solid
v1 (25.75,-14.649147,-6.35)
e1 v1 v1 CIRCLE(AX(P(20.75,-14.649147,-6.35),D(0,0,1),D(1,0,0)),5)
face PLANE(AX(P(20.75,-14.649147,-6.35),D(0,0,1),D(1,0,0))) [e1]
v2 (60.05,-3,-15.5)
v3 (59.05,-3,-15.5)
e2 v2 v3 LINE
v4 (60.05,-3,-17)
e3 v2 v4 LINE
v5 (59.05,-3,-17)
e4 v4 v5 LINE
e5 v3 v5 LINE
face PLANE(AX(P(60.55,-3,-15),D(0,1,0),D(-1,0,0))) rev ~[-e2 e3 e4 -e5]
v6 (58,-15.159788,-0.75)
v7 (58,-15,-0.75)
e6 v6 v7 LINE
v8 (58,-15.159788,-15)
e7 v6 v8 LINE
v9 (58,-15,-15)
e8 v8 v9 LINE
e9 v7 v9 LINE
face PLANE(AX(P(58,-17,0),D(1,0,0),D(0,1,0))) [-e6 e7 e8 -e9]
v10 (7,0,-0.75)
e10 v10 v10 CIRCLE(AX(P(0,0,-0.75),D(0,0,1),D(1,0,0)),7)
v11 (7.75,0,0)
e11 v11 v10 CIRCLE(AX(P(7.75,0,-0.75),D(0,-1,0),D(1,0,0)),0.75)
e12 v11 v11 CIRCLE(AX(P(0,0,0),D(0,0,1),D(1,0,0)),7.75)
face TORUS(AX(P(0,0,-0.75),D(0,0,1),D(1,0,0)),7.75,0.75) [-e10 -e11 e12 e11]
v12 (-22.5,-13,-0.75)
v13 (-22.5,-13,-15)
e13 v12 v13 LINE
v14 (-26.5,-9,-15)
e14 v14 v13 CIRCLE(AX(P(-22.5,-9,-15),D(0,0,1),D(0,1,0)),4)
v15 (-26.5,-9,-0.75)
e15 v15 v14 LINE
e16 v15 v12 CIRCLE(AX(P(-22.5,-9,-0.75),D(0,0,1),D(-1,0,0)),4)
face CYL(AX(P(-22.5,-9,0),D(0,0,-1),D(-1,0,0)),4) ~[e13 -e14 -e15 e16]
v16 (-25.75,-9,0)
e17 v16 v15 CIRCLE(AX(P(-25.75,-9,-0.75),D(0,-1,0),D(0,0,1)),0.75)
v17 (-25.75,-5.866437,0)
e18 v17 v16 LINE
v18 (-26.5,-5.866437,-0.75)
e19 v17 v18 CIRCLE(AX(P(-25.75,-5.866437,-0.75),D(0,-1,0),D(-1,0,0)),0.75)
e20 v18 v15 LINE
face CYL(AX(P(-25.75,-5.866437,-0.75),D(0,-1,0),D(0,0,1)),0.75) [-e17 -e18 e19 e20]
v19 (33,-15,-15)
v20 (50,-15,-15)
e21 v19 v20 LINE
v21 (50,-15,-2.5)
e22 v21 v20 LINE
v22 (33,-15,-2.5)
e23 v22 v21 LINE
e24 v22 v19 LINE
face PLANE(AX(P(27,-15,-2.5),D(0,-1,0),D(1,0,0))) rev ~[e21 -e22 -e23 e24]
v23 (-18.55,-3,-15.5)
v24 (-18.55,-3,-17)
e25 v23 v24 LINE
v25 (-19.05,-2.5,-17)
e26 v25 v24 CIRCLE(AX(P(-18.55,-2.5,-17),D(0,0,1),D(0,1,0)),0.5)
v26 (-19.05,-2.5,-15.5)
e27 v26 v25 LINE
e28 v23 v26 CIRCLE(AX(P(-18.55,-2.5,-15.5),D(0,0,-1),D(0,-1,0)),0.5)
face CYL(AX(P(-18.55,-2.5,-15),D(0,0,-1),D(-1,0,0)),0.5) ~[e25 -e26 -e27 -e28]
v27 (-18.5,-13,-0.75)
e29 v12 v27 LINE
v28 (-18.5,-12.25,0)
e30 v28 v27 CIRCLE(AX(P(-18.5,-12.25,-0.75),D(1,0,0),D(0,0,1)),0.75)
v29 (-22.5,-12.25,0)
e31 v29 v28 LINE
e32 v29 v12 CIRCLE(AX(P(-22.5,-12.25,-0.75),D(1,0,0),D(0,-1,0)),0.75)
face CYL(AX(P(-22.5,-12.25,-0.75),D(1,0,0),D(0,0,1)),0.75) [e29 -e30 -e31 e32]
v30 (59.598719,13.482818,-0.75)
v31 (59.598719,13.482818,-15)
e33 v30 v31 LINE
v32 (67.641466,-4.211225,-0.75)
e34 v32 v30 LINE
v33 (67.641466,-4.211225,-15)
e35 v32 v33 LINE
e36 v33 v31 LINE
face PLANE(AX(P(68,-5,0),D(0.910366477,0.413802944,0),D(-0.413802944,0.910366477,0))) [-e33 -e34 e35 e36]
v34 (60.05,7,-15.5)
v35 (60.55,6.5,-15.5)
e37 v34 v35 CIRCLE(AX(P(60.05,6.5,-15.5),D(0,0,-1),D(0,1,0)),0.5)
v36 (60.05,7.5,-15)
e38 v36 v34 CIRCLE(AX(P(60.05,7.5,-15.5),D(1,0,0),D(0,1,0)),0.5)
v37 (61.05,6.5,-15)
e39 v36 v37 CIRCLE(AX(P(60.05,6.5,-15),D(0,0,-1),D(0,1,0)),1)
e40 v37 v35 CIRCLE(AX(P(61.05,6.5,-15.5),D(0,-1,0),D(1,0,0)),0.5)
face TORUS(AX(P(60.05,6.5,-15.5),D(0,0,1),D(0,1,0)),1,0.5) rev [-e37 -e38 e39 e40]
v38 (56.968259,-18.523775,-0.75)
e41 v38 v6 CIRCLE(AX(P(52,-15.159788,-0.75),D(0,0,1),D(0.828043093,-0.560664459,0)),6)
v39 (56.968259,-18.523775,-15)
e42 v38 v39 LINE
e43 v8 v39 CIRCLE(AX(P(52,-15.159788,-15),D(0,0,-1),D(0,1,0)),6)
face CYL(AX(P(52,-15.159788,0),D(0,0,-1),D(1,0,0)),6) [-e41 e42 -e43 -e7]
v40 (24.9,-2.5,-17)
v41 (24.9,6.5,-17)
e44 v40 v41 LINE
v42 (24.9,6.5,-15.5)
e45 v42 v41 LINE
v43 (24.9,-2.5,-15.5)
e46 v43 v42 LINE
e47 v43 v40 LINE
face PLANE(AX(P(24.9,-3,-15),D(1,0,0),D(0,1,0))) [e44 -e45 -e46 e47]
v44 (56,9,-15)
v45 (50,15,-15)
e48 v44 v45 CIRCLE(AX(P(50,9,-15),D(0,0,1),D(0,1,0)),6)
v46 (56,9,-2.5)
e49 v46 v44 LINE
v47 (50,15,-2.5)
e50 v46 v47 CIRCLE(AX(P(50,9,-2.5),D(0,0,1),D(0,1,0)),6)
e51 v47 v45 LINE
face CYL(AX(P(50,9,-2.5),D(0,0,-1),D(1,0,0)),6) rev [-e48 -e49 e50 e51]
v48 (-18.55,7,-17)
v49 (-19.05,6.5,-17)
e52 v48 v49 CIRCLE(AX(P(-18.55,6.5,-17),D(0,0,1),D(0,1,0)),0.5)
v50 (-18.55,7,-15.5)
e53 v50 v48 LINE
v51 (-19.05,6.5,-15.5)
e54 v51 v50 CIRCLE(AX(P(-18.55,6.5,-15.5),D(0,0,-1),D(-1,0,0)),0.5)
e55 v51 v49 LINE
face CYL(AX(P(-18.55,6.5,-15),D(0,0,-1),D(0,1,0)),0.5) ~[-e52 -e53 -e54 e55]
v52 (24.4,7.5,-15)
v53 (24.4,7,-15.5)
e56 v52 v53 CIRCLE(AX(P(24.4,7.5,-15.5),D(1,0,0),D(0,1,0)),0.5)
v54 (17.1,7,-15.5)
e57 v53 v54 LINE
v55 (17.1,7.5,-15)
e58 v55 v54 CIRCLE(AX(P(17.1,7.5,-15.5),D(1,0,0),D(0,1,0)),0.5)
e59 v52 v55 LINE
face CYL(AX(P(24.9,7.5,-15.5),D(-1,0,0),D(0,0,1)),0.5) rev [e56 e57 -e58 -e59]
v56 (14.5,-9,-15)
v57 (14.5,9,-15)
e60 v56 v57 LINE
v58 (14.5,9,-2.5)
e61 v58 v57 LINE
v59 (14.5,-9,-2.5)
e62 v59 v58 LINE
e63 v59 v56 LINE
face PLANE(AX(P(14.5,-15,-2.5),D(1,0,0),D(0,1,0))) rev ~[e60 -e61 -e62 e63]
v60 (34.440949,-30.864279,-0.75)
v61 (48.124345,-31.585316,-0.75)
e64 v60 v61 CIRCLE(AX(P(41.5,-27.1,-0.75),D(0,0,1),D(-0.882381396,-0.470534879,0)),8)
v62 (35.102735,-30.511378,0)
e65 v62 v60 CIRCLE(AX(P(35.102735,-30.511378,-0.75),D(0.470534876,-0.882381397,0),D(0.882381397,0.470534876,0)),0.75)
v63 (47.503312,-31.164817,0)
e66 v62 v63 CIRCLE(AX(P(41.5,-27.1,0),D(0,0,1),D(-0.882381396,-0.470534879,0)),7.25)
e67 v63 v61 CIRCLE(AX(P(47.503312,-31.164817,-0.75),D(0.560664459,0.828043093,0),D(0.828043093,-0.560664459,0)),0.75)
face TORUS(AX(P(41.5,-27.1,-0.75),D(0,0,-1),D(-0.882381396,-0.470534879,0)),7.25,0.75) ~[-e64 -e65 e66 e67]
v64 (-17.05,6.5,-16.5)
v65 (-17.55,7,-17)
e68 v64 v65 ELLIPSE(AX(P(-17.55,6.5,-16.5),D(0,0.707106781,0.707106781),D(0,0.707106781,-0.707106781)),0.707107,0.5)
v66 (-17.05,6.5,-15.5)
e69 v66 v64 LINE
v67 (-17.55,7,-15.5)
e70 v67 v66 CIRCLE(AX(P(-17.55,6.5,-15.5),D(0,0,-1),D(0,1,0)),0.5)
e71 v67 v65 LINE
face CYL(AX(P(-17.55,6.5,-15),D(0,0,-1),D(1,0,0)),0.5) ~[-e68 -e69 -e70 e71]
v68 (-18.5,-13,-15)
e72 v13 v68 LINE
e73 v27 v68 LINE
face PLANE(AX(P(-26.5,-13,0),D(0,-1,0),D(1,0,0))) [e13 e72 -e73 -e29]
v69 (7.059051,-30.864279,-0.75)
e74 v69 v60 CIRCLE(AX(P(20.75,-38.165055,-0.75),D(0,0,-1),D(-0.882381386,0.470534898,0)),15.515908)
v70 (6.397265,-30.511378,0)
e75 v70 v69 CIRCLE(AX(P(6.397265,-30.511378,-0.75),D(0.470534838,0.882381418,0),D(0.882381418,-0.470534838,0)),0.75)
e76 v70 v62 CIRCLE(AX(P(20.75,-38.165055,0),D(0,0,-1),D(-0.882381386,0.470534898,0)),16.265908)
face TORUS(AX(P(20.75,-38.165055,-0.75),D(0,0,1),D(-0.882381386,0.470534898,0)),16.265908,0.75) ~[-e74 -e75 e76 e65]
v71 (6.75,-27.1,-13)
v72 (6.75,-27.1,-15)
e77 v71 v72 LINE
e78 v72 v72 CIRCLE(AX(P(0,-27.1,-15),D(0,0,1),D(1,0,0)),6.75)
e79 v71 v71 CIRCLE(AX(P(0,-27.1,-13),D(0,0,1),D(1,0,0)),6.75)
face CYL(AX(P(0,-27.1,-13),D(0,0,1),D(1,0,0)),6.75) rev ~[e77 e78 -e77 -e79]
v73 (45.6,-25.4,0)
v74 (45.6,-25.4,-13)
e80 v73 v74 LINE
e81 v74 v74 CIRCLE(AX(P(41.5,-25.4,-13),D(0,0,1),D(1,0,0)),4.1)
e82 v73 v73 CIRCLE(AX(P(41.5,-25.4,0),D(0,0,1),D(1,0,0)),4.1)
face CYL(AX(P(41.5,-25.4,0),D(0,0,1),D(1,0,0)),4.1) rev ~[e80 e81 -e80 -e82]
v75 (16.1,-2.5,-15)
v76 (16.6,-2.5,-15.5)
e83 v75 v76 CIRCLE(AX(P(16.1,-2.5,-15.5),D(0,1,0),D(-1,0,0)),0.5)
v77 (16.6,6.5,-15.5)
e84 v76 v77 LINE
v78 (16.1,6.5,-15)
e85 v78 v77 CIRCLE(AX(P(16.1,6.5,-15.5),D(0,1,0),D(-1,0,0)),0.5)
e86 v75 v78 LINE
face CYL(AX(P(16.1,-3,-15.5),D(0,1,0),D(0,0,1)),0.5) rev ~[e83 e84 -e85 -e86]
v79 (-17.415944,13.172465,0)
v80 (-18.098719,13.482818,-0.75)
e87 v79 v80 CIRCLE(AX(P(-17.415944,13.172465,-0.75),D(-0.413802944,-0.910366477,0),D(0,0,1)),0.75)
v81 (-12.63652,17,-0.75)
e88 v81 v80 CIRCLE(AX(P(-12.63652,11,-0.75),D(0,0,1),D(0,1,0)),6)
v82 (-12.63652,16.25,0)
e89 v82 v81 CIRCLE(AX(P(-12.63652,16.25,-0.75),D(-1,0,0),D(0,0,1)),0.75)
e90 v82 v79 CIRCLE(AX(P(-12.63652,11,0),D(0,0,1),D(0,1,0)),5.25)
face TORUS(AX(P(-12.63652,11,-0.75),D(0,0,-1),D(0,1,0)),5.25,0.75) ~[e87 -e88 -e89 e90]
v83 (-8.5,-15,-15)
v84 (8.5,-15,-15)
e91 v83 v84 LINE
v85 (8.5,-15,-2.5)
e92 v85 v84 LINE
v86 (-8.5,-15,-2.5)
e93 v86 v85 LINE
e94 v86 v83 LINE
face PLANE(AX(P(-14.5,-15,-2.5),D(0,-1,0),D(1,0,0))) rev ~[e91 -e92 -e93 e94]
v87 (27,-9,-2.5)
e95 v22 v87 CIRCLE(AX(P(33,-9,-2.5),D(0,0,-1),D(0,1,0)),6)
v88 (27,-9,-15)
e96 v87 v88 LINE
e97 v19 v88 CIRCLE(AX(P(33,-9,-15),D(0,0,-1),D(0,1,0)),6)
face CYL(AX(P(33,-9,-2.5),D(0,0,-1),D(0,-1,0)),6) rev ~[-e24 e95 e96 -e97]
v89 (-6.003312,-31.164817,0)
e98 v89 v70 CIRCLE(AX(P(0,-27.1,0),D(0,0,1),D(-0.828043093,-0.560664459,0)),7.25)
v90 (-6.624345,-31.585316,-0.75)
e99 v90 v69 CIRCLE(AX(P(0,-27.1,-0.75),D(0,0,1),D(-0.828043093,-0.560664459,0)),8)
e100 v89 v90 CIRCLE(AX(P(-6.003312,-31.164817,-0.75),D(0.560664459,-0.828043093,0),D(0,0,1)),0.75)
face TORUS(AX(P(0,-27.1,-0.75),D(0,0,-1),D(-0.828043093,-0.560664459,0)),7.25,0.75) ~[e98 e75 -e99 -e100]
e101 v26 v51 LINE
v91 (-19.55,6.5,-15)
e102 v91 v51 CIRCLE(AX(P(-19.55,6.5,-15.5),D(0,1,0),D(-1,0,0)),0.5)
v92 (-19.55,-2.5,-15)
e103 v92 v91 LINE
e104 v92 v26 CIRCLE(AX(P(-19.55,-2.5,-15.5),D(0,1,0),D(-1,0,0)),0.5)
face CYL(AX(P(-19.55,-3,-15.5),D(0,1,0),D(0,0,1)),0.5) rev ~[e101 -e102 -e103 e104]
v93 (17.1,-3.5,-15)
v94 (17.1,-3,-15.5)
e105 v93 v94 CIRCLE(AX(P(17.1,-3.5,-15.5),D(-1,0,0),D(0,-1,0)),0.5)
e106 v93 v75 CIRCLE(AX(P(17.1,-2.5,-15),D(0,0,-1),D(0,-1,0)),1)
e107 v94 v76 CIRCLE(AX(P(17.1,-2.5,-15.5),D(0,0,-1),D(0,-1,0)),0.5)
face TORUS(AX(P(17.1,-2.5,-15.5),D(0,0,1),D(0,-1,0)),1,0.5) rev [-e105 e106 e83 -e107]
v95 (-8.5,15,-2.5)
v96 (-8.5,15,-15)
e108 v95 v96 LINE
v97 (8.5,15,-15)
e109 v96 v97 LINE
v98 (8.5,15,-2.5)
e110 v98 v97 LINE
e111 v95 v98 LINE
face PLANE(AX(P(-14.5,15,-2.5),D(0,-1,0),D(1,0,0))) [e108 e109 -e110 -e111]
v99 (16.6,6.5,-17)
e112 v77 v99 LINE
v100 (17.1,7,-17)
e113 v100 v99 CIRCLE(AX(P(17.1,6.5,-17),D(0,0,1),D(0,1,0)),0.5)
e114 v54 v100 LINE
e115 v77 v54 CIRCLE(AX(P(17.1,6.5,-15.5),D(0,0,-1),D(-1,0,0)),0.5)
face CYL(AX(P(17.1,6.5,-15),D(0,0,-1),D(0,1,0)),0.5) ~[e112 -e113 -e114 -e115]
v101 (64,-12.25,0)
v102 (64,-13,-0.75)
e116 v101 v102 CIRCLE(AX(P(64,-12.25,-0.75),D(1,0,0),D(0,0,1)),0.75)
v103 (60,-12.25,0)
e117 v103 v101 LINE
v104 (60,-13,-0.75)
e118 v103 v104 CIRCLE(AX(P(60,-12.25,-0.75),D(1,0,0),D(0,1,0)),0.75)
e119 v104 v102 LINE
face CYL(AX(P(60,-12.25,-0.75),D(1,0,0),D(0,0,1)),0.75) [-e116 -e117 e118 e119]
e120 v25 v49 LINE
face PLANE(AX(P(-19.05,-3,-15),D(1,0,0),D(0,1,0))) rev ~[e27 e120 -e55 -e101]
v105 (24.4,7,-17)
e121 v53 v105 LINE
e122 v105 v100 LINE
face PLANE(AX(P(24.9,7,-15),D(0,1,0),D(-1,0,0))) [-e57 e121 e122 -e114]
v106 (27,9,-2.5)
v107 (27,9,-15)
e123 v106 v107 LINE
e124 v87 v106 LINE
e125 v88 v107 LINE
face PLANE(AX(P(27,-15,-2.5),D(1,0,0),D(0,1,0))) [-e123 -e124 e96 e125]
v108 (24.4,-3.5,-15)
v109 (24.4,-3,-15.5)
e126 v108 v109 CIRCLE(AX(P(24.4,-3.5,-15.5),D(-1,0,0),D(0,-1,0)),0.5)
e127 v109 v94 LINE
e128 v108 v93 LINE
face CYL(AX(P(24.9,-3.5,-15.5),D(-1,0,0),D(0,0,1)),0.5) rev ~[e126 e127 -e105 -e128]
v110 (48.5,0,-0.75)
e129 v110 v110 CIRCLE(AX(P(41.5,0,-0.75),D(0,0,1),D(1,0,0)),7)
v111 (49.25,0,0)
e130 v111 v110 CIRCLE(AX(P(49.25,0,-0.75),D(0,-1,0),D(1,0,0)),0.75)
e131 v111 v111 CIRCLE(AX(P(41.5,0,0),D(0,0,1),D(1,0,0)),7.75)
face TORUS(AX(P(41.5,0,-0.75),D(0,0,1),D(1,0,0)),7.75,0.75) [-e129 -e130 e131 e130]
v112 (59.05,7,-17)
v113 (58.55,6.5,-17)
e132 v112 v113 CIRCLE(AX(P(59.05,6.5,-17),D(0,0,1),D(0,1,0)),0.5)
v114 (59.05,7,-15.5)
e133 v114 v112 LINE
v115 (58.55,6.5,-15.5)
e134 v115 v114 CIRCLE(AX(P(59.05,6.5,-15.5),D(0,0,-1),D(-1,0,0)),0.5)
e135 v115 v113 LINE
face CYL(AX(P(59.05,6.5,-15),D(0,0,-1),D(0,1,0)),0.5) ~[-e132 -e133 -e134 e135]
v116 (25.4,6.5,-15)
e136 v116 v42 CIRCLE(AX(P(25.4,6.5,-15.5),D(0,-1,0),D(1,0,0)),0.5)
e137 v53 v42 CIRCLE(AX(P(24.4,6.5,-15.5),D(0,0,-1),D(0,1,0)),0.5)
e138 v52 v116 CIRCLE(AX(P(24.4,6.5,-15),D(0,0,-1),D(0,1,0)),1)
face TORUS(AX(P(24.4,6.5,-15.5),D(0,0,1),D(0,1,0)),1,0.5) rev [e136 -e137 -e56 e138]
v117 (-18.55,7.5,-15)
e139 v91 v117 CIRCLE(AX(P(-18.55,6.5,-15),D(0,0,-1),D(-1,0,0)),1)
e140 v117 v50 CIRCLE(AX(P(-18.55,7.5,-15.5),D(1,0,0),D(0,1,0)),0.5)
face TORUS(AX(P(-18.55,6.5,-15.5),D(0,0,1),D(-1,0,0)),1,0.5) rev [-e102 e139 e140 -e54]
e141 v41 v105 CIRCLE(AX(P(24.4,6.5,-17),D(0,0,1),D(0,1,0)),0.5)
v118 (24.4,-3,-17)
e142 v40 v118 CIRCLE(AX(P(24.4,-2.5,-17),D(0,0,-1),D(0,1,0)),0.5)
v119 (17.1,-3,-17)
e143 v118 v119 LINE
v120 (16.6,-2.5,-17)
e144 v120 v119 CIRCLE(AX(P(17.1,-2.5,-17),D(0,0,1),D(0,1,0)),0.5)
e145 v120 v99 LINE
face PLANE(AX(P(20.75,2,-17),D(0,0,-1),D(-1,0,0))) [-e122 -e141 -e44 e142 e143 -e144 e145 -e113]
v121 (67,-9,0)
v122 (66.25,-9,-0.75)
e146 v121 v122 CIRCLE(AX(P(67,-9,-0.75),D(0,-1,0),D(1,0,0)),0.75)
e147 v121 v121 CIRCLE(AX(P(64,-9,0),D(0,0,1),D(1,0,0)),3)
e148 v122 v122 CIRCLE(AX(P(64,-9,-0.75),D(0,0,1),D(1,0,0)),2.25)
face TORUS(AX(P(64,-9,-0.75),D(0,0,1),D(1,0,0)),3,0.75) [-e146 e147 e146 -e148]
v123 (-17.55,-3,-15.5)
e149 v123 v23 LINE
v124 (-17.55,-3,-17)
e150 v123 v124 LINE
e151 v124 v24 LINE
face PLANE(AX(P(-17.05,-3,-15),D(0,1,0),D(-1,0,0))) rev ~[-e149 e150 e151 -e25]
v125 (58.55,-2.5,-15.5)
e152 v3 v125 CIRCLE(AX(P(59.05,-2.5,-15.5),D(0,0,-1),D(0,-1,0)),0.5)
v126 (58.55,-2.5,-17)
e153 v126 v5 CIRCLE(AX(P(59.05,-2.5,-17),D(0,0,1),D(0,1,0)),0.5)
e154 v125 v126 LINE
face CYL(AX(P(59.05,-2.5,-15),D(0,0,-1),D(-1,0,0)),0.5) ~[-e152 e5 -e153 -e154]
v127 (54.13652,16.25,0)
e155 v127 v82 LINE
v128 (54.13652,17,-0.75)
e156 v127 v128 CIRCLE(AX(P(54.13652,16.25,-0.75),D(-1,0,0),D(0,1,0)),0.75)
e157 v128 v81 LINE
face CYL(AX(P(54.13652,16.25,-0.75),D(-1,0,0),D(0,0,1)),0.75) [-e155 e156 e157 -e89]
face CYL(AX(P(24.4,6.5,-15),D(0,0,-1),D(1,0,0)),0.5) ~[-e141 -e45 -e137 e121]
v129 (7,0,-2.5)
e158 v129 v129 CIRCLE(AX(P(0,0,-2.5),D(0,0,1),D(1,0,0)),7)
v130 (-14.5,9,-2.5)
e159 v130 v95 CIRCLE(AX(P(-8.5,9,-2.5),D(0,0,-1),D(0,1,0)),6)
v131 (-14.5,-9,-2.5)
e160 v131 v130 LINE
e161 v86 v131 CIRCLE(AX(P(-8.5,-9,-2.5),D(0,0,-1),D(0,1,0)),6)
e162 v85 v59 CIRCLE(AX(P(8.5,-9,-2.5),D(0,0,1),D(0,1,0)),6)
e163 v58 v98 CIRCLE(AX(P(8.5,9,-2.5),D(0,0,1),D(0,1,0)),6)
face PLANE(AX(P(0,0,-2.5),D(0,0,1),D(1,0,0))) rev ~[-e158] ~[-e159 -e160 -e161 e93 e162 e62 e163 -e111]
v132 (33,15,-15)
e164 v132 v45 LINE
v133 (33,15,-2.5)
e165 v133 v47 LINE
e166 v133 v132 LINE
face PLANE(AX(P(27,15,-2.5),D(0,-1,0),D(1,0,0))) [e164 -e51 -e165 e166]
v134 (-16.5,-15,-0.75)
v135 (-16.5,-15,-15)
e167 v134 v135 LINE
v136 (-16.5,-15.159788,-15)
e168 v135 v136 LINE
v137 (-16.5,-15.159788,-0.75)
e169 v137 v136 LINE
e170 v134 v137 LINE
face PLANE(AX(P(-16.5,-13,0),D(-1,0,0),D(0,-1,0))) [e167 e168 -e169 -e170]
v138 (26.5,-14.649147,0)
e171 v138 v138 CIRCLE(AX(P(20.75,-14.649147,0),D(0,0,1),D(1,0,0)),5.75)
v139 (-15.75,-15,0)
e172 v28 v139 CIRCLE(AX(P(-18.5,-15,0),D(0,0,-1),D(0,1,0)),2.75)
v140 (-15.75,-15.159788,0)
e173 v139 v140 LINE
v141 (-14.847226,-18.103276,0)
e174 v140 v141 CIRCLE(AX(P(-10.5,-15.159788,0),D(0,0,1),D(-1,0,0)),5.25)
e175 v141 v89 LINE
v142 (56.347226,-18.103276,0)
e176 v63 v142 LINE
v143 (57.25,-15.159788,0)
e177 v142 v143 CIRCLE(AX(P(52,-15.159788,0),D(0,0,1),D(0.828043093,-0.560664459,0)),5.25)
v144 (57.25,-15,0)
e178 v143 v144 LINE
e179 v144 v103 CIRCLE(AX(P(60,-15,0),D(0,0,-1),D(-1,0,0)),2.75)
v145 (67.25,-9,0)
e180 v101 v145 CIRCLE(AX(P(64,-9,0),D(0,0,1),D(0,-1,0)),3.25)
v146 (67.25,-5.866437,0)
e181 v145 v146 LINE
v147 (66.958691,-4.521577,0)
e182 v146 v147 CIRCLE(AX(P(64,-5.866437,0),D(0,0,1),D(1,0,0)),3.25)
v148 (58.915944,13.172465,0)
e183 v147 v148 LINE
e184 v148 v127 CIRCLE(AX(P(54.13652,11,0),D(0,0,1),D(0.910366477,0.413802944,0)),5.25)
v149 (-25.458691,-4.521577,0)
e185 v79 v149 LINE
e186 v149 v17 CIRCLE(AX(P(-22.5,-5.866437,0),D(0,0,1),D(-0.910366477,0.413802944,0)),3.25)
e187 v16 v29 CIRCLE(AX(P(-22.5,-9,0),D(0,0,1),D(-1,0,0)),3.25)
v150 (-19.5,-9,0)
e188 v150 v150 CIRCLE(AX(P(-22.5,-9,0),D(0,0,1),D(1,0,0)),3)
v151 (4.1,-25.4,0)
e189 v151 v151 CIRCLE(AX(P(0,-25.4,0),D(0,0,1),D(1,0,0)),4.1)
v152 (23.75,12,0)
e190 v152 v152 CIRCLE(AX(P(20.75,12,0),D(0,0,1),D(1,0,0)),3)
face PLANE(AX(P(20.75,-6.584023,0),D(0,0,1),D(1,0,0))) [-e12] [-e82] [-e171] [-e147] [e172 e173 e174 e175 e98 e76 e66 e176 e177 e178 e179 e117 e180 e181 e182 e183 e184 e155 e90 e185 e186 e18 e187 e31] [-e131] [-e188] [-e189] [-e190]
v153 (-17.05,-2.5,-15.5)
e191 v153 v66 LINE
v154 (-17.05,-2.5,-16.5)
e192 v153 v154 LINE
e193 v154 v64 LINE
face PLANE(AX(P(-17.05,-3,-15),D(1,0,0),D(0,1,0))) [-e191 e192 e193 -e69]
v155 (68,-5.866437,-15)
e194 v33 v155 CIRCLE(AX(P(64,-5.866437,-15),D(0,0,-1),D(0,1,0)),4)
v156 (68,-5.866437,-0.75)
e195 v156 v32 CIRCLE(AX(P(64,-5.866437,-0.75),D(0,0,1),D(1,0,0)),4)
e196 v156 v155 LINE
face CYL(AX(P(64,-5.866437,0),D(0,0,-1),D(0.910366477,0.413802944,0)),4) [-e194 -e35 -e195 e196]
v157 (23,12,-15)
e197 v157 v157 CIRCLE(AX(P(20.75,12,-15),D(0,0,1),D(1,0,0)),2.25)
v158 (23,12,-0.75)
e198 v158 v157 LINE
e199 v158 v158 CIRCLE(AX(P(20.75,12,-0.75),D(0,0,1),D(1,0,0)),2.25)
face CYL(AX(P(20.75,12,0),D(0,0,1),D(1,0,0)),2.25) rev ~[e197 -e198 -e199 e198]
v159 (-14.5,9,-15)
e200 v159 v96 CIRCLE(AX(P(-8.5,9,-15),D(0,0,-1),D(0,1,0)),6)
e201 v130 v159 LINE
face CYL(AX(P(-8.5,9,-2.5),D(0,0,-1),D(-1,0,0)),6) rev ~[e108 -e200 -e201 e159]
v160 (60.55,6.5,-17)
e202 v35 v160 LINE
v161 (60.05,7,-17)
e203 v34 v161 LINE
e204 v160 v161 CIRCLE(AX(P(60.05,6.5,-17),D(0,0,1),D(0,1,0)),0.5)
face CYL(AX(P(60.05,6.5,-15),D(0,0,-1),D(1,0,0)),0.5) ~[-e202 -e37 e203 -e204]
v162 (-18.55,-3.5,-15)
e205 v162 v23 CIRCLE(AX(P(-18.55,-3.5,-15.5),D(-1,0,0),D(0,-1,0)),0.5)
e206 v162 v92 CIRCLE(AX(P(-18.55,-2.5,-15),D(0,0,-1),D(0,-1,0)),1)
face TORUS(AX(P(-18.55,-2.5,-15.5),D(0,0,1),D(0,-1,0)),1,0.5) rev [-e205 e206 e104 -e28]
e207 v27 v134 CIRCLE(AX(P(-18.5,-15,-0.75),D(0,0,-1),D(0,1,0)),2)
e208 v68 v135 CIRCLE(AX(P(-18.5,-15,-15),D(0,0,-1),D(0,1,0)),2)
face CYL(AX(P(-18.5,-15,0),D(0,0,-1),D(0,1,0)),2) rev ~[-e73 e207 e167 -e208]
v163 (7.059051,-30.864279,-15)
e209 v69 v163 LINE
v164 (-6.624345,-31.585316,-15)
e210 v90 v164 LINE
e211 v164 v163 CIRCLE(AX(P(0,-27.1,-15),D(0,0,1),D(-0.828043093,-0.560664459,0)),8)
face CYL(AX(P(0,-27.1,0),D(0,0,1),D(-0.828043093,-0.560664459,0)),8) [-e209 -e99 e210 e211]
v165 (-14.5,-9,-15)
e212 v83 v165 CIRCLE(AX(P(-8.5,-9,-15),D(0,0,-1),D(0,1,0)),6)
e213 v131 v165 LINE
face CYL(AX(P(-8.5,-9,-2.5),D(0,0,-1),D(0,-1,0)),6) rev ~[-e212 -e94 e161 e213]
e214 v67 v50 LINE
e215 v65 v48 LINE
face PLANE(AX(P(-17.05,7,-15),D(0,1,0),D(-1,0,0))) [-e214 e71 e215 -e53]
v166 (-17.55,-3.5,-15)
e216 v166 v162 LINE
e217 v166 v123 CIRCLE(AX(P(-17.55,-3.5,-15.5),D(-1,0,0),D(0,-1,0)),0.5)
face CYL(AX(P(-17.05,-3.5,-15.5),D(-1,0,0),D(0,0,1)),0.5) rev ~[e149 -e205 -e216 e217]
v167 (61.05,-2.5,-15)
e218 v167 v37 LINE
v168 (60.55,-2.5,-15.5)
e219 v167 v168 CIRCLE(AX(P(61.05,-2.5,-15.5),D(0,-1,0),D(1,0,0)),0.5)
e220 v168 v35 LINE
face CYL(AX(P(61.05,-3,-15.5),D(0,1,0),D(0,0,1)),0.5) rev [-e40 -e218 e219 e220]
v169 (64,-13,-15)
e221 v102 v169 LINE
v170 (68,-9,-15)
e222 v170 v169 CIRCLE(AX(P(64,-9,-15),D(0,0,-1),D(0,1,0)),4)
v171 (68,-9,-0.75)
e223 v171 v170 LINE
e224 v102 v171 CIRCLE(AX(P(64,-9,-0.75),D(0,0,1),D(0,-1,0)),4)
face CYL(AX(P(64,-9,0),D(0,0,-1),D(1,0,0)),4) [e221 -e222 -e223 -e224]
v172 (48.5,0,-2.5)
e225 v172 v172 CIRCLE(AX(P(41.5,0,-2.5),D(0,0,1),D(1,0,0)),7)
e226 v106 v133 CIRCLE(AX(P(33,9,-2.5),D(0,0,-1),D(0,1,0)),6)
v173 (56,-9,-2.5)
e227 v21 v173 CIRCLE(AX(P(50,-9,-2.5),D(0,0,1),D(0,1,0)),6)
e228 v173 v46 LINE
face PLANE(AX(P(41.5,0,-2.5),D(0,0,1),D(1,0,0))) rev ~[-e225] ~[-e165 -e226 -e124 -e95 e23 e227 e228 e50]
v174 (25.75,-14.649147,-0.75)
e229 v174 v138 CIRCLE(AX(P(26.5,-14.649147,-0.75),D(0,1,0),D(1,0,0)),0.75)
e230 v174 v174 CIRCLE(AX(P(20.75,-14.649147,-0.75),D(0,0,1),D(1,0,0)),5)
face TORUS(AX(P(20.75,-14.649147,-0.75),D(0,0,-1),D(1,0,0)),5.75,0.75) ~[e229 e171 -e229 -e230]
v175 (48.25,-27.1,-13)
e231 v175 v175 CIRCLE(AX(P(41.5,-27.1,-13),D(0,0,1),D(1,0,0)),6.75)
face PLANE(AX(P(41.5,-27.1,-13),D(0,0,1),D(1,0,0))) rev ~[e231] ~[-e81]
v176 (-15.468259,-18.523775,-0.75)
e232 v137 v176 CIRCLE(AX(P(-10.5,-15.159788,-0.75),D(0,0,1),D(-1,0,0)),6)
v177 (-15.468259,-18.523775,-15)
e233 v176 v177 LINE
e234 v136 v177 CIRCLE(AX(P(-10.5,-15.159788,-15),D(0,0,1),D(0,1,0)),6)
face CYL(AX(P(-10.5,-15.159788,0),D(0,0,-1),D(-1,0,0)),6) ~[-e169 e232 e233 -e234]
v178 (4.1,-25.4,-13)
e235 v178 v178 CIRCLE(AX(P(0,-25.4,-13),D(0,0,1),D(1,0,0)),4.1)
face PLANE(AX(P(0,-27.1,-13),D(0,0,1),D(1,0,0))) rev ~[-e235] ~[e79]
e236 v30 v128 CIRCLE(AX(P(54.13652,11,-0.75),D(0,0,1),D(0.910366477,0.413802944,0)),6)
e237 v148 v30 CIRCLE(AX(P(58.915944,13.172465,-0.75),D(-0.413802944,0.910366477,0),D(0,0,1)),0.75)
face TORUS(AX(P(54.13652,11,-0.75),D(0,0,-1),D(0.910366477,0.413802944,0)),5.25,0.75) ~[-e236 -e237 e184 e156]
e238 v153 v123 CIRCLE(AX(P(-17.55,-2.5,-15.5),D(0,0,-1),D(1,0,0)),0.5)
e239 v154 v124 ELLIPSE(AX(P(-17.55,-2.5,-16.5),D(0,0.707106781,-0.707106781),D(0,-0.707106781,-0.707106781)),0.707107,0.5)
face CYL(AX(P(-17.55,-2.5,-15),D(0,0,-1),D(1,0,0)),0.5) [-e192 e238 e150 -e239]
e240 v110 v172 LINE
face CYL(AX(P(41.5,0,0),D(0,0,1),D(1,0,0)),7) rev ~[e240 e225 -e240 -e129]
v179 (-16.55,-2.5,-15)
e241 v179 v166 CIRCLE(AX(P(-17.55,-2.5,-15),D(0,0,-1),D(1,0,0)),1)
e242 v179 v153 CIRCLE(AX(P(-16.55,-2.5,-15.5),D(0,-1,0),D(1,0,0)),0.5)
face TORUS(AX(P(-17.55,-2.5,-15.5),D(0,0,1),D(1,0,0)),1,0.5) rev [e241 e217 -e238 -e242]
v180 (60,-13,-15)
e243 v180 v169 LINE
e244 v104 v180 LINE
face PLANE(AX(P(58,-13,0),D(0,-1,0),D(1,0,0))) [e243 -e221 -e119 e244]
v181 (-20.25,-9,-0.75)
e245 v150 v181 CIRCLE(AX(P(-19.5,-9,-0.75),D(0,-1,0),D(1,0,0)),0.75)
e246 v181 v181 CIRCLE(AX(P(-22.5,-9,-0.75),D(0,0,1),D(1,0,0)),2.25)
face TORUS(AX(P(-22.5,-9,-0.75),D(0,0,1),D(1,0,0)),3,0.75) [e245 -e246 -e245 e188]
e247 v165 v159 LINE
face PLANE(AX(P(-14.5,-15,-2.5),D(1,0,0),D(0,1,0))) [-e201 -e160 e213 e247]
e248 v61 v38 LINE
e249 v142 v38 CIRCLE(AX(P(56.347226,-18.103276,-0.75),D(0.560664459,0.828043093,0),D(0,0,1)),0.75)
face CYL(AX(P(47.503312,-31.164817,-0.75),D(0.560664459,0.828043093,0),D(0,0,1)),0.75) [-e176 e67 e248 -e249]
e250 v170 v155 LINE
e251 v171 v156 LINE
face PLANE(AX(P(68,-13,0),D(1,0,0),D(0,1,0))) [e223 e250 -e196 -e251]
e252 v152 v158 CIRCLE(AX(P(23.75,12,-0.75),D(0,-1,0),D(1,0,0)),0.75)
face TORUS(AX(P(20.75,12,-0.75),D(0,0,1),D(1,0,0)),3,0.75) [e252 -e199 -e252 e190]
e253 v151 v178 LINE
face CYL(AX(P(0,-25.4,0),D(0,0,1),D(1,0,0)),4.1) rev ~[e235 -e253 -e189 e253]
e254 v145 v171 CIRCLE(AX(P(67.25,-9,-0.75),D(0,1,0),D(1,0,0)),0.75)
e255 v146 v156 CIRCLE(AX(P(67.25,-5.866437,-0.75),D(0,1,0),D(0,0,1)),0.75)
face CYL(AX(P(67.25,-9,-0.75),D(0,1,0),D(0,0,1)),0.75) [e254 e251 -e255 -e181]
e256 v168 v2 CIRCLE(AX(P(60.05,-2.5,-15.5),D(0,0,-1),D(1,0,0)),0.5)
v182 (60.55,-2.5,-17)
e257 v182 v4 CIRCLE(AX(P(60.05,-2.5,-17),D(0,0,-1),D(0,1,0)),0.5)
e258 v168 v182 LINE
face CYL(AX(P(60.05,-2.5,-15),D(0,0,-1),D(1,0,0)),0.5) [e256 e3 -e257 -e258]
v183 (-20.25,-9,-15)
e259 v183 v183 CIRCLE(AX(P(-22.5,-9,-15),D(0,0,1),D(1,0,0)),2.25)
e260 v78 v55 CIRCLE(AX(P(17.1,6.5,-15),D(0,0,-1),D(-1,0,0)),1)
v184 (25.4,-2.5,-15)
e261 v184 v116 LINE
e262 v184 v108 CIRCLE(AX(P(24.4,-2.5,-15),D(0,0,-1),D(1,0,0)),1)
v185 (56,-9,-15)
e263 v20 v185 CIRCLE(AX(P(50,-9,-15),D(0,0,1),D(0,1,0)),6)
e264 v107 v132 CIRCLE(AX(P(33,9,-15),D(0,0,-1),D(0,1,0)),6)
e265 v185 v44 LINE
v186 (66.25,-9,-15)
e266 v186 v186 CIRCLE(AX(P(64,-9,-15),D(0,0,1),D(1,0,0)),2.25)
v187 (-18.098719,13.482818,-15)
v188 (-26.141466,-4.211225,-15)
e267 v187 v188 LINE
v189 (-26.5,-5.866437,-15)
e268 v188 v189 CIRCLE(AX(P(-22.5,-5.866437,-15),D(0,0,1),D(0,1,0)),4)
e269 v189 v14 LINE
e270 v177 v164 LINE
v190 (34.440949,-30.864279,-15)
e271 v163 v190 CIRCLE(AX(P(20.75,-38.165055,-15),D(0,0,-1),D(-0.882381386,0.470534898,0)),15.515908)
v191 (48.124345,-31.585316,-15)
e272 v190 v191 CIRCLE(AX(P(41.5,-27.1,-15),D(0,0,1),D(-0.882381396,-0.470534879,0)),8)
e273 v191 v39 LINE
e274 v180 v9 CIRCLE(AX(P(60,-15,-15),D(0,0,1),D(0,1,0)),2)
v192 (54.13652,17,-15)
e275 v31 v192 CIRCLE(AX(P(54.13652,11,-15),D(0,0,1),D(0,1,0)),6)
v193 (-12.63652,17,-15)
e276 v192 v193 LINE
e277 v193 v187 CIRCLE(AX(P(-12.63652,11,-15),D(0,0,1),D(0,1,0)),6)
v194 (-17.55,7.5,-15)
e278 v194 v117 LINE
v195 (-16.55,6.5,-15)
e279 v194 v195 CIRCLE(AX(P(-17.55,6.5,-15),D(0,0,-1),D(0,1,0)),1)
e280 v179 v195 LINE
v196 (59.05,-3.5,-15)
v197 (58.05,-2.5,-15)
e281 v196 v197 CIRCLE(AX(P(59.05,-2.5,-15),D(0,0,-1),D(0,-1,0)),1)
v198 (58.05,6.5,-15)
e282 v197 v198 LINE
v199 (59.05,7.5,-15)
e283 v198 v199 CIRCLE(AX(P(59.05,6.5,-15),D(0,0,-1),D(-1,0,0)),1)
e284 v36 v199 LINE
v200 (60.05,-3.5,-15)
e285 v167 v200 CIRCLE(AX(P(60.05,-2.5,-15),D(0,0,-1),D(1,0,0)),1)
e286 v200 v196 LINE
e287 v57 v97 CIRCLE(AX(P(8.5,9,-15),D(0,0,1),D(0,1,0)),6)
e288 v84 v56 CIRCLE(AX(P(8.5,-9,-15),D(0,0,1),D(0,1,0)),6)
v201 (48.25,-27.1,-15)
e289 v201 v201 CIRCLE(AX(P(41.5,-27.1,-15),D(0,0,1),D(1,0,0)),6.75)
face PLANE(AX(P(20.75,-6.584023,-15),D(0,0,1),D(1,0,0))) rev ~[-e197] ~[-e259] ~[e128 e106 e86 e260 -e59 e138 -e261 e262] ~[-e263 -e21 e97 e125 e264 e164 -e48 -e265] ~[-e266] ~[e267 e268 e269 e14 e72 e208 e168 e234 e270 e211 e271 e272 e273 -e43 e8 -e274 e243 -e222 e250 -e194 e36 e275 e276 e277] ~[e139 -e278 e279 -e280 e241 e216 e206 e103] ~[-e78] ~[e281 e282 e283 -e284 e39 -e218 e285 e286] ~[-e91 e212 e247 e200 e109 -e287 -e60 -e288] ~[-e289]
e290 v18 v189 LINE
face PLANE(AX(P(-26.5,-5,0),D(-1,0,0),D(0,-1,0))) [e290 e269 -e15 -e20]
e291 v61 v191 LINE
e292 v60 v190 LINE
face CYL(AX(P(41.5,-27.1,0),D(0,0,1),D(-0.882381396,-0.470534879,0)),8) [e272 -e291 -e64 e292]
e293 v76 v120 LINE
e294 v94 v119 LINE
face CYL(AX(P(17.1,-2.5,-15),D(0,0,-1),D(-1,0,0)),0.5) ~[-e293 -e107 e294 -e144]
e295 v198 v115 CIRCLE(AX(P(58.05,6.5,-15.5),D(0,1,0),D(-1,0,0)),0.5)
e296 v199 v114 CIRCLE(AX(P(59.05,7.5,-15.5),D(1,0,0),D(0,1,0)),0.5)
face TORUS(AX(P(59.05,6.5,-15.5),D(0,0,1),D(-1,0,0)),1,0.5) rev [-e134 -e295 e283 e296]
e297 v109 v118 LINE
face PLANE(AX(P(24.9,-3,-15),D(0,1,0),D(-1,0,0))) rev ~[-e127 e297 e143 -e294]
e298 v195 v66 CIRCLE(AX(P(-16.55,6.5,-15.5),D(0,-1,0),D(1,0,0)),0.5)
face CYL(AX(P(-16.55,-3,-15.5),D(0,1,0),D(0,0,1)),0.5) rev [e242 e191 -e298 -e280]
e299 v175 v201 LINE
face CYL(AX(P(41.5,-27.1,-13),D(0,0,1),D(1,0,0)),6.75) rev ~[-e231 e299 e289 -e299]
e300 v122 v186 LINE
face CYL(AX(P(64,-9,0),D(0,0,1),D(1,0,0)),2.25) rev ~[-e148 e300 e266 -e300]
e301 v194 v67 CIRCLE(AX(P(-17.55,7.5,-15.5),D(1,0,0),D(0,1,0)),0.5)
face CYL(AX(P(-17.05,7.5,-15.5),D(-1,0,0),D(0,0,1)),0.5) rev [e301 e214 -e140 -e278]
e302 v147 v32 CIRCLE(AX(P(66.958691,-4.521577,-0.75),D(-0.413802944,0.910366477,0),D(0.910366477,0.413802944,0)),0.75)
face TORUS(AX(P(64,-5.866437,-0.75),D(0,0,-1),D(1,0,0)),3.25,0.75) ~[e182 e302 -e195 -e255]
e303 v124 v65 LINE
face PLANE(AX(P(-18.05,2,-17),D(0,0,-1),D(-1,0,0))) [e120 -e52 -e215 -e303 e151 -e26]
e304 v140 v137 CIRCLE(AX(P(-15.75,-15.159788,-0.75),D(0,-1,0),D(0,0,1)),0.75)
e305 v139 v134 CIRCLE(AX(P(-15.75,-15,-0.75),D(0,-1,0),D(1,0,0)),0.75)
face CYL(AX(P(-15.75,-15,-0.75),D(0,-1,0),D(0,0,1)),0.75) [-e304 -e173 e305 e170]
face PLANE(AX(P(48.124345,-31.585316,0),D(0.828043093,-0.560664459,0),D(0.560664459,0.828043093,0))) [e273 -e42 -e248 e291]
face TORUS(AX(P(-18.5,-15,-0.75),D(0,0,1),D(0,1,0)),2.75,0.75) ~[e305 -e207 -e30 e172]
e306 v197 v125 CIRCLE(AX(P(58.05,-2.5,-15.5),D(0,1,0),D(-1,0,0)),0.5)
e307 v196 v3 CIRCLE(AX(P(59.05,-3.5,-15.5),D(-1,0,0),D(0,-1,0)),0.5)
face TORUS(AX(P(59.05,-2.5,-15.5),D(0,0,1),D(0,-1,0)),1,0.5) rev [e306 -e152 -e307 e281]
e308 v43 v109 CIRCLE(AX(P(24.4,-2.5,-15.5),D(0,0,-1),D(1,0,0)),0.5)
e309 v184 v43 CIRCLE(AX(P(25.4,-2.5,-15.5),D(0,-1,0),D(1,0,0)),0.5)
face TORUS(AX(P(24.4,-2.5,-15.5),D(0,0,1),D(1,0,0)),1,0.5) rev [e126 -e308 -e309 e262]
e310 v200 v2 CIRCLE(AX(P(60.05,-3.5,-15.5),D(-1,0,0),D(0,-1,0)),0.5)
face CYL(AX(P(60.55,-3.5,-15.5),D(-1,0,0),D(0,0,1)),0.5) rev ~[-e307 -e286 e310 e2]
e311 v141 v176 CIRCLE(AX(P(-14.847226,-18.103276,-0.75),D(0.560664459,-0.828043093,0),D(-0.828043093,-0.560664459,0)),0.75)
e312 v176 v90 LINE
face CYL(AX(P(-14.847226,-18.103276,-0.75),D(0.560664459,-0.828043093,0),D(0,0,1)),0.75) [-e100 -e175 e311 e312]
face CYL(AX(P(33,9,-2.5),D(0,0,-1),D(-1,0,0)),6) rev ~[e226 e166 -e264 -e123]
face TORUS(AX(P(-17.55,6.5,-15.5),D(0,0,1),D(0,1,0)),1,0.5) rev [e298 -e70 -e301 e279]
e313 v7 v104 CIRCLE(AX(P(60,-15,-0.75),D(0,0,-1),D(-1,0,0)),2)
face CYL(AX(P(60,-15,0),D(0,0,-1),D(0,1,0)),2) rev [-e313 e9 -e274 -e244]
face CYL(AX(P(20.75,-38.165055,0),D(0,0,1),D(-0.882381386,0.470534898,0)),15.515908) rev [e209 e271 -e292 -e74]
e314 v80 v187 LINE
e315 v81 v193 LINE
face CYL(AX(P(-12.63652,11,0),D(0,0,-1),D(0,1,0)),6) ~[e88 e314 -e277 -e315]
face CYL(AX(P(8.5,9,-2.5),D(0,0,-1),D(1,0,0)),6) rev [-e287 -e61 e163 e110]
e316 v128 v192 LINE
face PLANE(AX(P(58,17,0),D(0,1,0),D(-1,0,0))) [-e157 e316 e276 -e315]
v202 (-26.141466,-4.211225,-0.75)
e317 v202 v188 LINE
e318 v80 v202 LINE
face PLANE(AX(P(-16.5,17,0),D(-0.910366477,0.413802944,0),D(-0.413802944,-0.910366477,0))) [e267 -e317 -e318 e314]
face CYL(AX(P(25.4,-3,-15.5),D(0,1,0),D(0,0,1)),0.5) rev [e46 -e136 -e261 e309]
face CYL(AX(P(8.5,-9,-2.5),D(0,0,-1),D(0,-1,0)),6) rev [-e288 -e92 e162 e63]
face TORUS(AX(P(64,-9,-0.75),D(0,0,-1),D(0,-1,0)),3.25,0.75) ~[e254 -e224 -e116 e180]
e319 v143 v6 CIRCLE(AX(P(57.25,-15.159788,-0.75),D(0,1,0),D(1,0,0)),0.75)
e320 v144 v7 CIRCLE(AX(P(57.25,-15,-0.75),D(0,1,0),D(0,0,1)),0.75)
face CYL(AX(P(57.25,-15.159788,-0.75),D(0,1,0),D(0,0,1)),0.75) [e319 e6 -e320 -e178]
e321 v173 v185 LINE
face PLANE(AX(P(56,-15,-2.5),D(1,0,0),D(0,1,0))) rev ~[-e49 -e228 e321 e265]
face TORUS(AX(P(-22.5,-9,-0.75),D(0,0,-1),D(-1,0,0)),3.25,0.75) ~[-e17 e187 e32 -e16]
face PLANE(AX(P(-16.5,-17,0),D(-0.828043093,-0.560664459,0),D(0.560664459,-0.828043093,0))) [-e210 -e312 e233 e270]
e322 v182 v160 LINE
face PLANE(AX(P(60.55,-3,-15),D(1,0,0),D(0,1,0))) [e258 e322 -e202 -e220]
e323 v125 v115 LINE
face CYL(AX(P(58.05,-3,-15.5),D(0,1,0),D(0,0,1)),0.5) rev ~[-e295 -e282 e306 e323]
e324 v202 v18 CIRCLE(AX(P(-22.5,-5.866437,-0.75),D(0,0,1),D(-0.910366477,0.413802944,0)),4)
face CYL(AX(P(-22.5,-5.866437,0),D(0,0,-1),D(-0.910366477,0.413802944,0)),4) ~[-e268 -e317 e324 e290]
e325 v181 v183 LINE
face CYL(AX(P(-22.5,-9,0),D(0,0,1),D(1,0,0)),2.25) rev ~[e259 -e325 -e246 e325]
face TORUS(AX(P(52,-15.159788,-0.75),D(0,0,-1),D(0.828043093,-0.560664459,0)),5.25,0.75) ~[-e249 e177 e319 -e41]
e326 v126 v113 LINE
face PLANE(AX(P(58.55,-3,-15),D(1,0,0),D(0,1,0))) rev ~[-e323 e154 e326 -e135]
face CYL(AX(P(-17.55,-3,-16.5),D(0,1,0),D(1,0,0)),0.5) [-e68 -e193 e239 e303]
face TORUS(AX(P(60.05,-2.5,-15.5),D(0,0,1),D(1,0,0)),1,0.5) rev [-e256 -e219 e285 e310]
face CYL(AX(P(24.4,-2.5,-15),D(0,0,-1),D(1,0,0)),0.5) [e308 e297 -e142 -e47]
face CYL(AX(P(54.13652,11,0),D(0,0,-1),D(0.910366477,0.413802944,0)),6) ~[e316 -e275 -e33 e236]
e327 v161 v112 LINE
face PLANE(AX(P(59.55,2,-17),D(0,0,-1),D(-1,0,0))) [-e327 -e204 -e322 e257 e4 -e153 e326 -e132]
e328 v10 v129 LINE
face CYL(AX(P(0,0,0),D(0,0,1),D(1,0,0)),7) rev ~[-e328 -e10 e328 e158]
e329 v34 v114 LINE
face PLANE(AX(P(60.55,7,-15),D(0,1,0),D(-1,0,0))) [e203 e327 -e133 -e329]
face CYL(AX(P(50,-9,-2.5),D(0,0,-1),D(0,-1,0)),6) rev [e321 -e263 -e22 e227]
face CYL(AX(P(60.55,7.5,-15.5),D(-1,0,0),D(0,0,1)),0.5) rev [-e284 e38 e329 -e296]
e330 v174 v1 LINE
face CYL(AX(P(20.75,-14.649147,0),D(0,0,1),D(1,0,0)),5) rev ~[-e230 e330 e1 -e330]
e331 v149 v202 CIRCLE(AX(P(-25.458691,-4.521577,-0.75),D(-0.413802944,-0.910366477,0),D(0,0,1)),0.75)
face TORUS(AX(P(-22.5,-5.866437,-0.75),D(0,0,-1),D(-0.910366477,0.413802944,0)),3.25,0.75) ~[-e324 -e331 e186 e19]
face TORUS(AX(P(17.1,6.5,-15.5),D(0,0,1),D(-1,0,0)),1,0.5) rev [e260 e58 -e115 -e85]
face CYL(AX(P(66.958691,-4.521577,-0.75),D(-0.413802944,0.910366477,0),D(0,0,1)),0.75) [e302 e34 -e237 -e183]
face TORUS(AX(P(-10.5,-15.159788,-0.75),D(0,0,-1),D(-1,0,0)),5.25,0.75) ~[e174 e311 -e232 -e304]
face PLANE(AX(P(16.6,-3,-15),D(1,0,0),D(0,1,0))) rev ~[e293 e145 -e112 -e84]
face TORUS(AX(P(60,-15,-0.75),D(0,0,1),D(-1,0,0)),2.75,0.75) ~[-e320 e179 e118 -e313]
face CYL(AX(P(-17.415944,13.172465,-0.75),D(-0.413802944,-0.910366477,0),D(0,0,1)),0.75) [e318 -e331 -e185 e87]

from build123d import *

# Parameters (mm, degrees)
SKETCH5_R           = 7
SKETCH5_R_2         = 5
SKETCH5_R_3         = 2.25
SKETCH5_R_4         = 4.1
BOSS_EXTRUDE5_DEPTH = 15
CUT_EXTRUDE1_START  = -2.5
SKETCH1_W           = 29
SKETCH1_H           = 30
SKETCH1_R           = 7
CUT_EXTRUDE1_DEPTH  = 12.5
CUT_EXTRUDE2_START  = -13
SKETCH5_3_R         = 6.75
SKETCH5_3_R_2       = 4.1
CUT_EXTRUDE2_DEPTH  = 2
FILLET1_R           = 6
FILLET2_R           = 4
FILLET3_R           = 6
FILLET4_R           = 2
BOSS_EXTRUDE6_START = -6.35
SKETCH5_4_R         = 5
BOSS_EXTRUDE6_DEPTH = 8.65
FILLET5_R           = 0.75
SKETCH7_W           = 8.3
SKETCH7_H           = 10
SKETCH7_W_2         = 2
BOSS_EXTRUDE7_DEPTH = 2
FILLET6_R           = 0.5


with BuildPart() as part:
    # Sketch5 → Boss-Extrude5 (new body)
    with BuildSketch(Plane.XY):
        with BuildLine():
            Line((58, 17), (-16.5, 17))
            Line((-16.5, 17), (-26.5, -5))
            Line((-26.5, -5), (-26.5, -13))
            Line((-26.5, -13), (-16.5, -13))
            Line((-16.5, -13), (-16.5, -17))
            Line((-16.5, -17), (-6.624344746, -31.585315674))
            ThreePointArc((-6.624344746, -31.585315674), (0.420970348, -35.08891632), (7.059051341, -30.864278705))
            ThreePointArc((7.059051341, -30.864278705), (20.750000185, -22.649146733), (34.440948834, -30.864279032))
            ThreePointArc((34.440948834, -30.864279032), (41.079029838, -35.08891633), (48.124344746, -31.585315674))
            Line((48.124344746, -31.585315674), (58, -17))
            Line((58, -17), (58, -13))
            Line((58, -13), (68, -13))
            Line((68, -13), (68, -5))
            Line((68, -5), (58, 17))
        make_face()
        Circle(SKETCH5_R, mode=Mode.SUBTRACT)
        with Locations((20.75, -14.649146733)):
            Circle(SKETCH5_R_2, mode=Mode.SUBTRACT)
        with Locations((41.5, 0)):
            Circle(SKETCH5_R, mode=Mode.SUBTRACT)
        with Locations((20.75, 12)):
            Circle(SKETCH5_R_3, mode=Mode.SUBTRACT)
        with Locations((-22.5, -9)):
            Circle(SKETCH5_R_3, mode=Mode.SUBTRACT)
        with Locations((64, -9)):
            Circle(SKETCH5_R_3, mode=Mode.SUBTRACT)
        with Locations((41.5, -25.4)):
            Circle(SKETCH5_R_4, mode=Mode.SUBTRACT)
        with Locations((0, -25.4)):
            Circle(SKETCH5_R_4, mode=Mode.SUBTRACT)
    extrude(amount=-BOSS_EXTRUDE5_DEPTH)

    # Sketch1 → Cut-Extrude1 (cut)
    # profile 1 of 2: a face of its own
    with BuildSketch(Plane.XY.offset(CUT_EXTRUDE1_START)):
        Rectangle(SKETCH1_W, SKETCH1_H)
        Circle(SKETCH1_R, mode=Mode.SUBTRACT)
    # profile 2 of 2: a face of its own
    with BuildSketch(Plane.XY.offset(CUT_EXTRUDE1_START)):
        with Locations((41.5, 0)):
            Rectangle(SKETCH1_W, SKETCH1_H)
        with Locations((41.5, 0)):
            Circle(SKETCH1_R, mode=Mode.SUBTRACT)
    extrude(amount=-CUT_EXTRUDE1_DEPTH, mode=Mode.SUBTRACT)

    # Sketch5<3> → Cut-Extrude2 (cut)
    # profile 1 of 2: a face of its own
    with BuildSketch(Plane.XY.offset(CUT_EXTRUDE2_START)):
        with Locations((41.5, -27.1)):
            Circle(SKETCH5_3_R)
        with Locations((41.5, -25.4)):
            Circle(SKETCH5_3_R_2, mode=Mode.SUBTRACT)
    # profile 2 of 2: a face of its own
    with BuildSketch(Plane.XY.offset(CUT_EXTRUDE2_START)):
        with Locations((0, -27.1)):
            Circle(SKETCH5_3_R)
        with Locations((0, -25.4)):
            Circle(SKETCH5_3_R_2, mode=Mode.SUBTRACT)
    extrude(amount=-CUT_EXTRUDE2_DEPTH, mode=Mode.SUBTRACT)

    # Fillet1
    fillet1_edges = [part.edges().sort_by_distance(p)[0] for p in [
        (-14.5, -15, -8.75),
        (14.5, -15, -8.75),
        (14.5, 15, -8.75),
        (-14.5, 15, -8.75),
        (27, -15, -8.75),
        (56, -15, -8.75),
        (56, 15, -8.75),
        (27, 15, -8.75),
    ]]
    fillet(fillet1_edges, radius=FILLET1_R)

    # Fillet2
    fillet2_edges = [part.edges().sort_by_distance(p)[0] for p in [
        (68, -13, -7.5),
        (-26.5, -13, -7.5),
        (-26.5, -5, -7.5),
        (68, -5, -7.5),
    ]]
    fillet(fillet2_edges, radius=FILLET2_R)

    # Fillet3
    fillet3_edges = [part.edges().sort_by_distance(p)[0] for p in [
        (58, -17, -7.5),
        (-16.5, -17, -7.5),
        (-16.5, 17, -7.5),
        (58, 17, -7.5),
    ]]
    fillet(fillet3_edges, radius=FILLET3_R)

    # Fillet4
    fillet4_edges = [part.edges().sort_by_distance(p)[0] for p in [
        (58, -13, -7.5),
        (-16.5, -13, -7.5),
    ]]
    fillet(fillet4_edges, radius=FILLET4_R)

    # Sketch5<4> → Boss-Extrude6 (add)
    with BuildSketch(Plane.XY.offset(BOSS_EXTRUDE6_START)):
        with Locations((20.75, -14.649146733)):
            Circle(SKETCH5_4_R)
    extrude(amount=-BOSS_EXTRUDE6_DEPTH)

    # Fillet5
    fillet5_edges = [part.edges().sort_by_distance(p)[0] for p in [
        (-22.120092576, 4.635796332, 0),
        (68, -7.433218389, 0),
        (-26.5, -7.433218389, 0),
        (66.828427125, -11.828427125, 0),
        (67.909339052, -5.019637995, 0),
        (-25.328427125, -11.828427125, 0),
        (-26.409339052, -5.019637995, 0),
        (-11.046301652, -25.054545237, 0),
        (52.546301652, -25.054545237, 0),
        (63.620092576, 4.635796332, 0),
        (20.75, 17, 0),
        (57.384834864, 16.044645973, 0),
        (-15.884834864, 16.044645973, 0),
        (57.736268445, -16.919113007, 0),
        (-16.236268445, -16.919113007, 0),
        (-20.5, -13, 0),
        (-16.5, -15.079894022, 0),
        (58, -15.079894022, 0),
        (62, -13, 0),
        (-17.085786438, -13.585786438, 0),
        (61.75, -9, 0),
        (58.585786438, -13.585786438, 0),
        (-24.75, -9, 0),
        (-7, 0, 0),
        (34.5, 0, 0),
        (15.75, -14.649146733, 0),
        (18.5, 12, 0),
        (41.079029838, -35.08891633, 0),
        (20.750000185, -22.649146733, 0),
        (0.420970348, -35.08891632, 0),
    ]]
    fillet(fillet5_edges, radius=FILLET5_R)

    # Sketch7 → Boss-Extrude7 (add)
    with BuildSketch(Plane(origin=(0, 0, -15), x_dir=(-1, 0, 0), z_dir=(0, 0, -1))):
        with Locations((-20.75, 2)):
            Rectangle(SKETCH7_W, SKETCH7_H)
        with Locations((-59.55, 2)):
            Rectangle(SKETCH7_W_2, SKETCH7_H)
        with Locations((18.05, 2)):
            Rectangle(SKETCH7_W_2, SKETCH7_H)
    extrude(amount=BOSS_EXTRUDE7_DEPTH)

    # Fillet6
    fillet6_edges = [part.edges().sort_by_distance(p)[0] for p in [
        (24.9, 2, -15),
        (24.9, 7, -16),
        (20.75, -3, -15),
        (24.9, -3, -16),
        (16.6, 2, -15),
        (16.6, -3, -16),
        (20.75, 7, -15),
        (16.6, 7, -16),
        (60.55, 2, -15),
        (60.55, 7, -16),
        (59.55, -3, -15),
        (60.55, -3, -16),
        (58.55, 2, -15),
        (58.55, -3, -16),
        (59.55, 7, -15),
        (58.55, 7, -16),
        (-17.05, 2, -15),
        (-17.05, 7, -16),
        (-18.05, -3, -15),
        (-17.05, -3, -16),
        (-19.05, 2, -15),
        (-19.05, -3, -16),
        (-18.05, 7, -15),
        (-19.05, 7, -16),
        (-17.05, 2, -17),
    ]]
    fillet(fillet6_edges, radius=FILLET6_R)


solid = part.part
